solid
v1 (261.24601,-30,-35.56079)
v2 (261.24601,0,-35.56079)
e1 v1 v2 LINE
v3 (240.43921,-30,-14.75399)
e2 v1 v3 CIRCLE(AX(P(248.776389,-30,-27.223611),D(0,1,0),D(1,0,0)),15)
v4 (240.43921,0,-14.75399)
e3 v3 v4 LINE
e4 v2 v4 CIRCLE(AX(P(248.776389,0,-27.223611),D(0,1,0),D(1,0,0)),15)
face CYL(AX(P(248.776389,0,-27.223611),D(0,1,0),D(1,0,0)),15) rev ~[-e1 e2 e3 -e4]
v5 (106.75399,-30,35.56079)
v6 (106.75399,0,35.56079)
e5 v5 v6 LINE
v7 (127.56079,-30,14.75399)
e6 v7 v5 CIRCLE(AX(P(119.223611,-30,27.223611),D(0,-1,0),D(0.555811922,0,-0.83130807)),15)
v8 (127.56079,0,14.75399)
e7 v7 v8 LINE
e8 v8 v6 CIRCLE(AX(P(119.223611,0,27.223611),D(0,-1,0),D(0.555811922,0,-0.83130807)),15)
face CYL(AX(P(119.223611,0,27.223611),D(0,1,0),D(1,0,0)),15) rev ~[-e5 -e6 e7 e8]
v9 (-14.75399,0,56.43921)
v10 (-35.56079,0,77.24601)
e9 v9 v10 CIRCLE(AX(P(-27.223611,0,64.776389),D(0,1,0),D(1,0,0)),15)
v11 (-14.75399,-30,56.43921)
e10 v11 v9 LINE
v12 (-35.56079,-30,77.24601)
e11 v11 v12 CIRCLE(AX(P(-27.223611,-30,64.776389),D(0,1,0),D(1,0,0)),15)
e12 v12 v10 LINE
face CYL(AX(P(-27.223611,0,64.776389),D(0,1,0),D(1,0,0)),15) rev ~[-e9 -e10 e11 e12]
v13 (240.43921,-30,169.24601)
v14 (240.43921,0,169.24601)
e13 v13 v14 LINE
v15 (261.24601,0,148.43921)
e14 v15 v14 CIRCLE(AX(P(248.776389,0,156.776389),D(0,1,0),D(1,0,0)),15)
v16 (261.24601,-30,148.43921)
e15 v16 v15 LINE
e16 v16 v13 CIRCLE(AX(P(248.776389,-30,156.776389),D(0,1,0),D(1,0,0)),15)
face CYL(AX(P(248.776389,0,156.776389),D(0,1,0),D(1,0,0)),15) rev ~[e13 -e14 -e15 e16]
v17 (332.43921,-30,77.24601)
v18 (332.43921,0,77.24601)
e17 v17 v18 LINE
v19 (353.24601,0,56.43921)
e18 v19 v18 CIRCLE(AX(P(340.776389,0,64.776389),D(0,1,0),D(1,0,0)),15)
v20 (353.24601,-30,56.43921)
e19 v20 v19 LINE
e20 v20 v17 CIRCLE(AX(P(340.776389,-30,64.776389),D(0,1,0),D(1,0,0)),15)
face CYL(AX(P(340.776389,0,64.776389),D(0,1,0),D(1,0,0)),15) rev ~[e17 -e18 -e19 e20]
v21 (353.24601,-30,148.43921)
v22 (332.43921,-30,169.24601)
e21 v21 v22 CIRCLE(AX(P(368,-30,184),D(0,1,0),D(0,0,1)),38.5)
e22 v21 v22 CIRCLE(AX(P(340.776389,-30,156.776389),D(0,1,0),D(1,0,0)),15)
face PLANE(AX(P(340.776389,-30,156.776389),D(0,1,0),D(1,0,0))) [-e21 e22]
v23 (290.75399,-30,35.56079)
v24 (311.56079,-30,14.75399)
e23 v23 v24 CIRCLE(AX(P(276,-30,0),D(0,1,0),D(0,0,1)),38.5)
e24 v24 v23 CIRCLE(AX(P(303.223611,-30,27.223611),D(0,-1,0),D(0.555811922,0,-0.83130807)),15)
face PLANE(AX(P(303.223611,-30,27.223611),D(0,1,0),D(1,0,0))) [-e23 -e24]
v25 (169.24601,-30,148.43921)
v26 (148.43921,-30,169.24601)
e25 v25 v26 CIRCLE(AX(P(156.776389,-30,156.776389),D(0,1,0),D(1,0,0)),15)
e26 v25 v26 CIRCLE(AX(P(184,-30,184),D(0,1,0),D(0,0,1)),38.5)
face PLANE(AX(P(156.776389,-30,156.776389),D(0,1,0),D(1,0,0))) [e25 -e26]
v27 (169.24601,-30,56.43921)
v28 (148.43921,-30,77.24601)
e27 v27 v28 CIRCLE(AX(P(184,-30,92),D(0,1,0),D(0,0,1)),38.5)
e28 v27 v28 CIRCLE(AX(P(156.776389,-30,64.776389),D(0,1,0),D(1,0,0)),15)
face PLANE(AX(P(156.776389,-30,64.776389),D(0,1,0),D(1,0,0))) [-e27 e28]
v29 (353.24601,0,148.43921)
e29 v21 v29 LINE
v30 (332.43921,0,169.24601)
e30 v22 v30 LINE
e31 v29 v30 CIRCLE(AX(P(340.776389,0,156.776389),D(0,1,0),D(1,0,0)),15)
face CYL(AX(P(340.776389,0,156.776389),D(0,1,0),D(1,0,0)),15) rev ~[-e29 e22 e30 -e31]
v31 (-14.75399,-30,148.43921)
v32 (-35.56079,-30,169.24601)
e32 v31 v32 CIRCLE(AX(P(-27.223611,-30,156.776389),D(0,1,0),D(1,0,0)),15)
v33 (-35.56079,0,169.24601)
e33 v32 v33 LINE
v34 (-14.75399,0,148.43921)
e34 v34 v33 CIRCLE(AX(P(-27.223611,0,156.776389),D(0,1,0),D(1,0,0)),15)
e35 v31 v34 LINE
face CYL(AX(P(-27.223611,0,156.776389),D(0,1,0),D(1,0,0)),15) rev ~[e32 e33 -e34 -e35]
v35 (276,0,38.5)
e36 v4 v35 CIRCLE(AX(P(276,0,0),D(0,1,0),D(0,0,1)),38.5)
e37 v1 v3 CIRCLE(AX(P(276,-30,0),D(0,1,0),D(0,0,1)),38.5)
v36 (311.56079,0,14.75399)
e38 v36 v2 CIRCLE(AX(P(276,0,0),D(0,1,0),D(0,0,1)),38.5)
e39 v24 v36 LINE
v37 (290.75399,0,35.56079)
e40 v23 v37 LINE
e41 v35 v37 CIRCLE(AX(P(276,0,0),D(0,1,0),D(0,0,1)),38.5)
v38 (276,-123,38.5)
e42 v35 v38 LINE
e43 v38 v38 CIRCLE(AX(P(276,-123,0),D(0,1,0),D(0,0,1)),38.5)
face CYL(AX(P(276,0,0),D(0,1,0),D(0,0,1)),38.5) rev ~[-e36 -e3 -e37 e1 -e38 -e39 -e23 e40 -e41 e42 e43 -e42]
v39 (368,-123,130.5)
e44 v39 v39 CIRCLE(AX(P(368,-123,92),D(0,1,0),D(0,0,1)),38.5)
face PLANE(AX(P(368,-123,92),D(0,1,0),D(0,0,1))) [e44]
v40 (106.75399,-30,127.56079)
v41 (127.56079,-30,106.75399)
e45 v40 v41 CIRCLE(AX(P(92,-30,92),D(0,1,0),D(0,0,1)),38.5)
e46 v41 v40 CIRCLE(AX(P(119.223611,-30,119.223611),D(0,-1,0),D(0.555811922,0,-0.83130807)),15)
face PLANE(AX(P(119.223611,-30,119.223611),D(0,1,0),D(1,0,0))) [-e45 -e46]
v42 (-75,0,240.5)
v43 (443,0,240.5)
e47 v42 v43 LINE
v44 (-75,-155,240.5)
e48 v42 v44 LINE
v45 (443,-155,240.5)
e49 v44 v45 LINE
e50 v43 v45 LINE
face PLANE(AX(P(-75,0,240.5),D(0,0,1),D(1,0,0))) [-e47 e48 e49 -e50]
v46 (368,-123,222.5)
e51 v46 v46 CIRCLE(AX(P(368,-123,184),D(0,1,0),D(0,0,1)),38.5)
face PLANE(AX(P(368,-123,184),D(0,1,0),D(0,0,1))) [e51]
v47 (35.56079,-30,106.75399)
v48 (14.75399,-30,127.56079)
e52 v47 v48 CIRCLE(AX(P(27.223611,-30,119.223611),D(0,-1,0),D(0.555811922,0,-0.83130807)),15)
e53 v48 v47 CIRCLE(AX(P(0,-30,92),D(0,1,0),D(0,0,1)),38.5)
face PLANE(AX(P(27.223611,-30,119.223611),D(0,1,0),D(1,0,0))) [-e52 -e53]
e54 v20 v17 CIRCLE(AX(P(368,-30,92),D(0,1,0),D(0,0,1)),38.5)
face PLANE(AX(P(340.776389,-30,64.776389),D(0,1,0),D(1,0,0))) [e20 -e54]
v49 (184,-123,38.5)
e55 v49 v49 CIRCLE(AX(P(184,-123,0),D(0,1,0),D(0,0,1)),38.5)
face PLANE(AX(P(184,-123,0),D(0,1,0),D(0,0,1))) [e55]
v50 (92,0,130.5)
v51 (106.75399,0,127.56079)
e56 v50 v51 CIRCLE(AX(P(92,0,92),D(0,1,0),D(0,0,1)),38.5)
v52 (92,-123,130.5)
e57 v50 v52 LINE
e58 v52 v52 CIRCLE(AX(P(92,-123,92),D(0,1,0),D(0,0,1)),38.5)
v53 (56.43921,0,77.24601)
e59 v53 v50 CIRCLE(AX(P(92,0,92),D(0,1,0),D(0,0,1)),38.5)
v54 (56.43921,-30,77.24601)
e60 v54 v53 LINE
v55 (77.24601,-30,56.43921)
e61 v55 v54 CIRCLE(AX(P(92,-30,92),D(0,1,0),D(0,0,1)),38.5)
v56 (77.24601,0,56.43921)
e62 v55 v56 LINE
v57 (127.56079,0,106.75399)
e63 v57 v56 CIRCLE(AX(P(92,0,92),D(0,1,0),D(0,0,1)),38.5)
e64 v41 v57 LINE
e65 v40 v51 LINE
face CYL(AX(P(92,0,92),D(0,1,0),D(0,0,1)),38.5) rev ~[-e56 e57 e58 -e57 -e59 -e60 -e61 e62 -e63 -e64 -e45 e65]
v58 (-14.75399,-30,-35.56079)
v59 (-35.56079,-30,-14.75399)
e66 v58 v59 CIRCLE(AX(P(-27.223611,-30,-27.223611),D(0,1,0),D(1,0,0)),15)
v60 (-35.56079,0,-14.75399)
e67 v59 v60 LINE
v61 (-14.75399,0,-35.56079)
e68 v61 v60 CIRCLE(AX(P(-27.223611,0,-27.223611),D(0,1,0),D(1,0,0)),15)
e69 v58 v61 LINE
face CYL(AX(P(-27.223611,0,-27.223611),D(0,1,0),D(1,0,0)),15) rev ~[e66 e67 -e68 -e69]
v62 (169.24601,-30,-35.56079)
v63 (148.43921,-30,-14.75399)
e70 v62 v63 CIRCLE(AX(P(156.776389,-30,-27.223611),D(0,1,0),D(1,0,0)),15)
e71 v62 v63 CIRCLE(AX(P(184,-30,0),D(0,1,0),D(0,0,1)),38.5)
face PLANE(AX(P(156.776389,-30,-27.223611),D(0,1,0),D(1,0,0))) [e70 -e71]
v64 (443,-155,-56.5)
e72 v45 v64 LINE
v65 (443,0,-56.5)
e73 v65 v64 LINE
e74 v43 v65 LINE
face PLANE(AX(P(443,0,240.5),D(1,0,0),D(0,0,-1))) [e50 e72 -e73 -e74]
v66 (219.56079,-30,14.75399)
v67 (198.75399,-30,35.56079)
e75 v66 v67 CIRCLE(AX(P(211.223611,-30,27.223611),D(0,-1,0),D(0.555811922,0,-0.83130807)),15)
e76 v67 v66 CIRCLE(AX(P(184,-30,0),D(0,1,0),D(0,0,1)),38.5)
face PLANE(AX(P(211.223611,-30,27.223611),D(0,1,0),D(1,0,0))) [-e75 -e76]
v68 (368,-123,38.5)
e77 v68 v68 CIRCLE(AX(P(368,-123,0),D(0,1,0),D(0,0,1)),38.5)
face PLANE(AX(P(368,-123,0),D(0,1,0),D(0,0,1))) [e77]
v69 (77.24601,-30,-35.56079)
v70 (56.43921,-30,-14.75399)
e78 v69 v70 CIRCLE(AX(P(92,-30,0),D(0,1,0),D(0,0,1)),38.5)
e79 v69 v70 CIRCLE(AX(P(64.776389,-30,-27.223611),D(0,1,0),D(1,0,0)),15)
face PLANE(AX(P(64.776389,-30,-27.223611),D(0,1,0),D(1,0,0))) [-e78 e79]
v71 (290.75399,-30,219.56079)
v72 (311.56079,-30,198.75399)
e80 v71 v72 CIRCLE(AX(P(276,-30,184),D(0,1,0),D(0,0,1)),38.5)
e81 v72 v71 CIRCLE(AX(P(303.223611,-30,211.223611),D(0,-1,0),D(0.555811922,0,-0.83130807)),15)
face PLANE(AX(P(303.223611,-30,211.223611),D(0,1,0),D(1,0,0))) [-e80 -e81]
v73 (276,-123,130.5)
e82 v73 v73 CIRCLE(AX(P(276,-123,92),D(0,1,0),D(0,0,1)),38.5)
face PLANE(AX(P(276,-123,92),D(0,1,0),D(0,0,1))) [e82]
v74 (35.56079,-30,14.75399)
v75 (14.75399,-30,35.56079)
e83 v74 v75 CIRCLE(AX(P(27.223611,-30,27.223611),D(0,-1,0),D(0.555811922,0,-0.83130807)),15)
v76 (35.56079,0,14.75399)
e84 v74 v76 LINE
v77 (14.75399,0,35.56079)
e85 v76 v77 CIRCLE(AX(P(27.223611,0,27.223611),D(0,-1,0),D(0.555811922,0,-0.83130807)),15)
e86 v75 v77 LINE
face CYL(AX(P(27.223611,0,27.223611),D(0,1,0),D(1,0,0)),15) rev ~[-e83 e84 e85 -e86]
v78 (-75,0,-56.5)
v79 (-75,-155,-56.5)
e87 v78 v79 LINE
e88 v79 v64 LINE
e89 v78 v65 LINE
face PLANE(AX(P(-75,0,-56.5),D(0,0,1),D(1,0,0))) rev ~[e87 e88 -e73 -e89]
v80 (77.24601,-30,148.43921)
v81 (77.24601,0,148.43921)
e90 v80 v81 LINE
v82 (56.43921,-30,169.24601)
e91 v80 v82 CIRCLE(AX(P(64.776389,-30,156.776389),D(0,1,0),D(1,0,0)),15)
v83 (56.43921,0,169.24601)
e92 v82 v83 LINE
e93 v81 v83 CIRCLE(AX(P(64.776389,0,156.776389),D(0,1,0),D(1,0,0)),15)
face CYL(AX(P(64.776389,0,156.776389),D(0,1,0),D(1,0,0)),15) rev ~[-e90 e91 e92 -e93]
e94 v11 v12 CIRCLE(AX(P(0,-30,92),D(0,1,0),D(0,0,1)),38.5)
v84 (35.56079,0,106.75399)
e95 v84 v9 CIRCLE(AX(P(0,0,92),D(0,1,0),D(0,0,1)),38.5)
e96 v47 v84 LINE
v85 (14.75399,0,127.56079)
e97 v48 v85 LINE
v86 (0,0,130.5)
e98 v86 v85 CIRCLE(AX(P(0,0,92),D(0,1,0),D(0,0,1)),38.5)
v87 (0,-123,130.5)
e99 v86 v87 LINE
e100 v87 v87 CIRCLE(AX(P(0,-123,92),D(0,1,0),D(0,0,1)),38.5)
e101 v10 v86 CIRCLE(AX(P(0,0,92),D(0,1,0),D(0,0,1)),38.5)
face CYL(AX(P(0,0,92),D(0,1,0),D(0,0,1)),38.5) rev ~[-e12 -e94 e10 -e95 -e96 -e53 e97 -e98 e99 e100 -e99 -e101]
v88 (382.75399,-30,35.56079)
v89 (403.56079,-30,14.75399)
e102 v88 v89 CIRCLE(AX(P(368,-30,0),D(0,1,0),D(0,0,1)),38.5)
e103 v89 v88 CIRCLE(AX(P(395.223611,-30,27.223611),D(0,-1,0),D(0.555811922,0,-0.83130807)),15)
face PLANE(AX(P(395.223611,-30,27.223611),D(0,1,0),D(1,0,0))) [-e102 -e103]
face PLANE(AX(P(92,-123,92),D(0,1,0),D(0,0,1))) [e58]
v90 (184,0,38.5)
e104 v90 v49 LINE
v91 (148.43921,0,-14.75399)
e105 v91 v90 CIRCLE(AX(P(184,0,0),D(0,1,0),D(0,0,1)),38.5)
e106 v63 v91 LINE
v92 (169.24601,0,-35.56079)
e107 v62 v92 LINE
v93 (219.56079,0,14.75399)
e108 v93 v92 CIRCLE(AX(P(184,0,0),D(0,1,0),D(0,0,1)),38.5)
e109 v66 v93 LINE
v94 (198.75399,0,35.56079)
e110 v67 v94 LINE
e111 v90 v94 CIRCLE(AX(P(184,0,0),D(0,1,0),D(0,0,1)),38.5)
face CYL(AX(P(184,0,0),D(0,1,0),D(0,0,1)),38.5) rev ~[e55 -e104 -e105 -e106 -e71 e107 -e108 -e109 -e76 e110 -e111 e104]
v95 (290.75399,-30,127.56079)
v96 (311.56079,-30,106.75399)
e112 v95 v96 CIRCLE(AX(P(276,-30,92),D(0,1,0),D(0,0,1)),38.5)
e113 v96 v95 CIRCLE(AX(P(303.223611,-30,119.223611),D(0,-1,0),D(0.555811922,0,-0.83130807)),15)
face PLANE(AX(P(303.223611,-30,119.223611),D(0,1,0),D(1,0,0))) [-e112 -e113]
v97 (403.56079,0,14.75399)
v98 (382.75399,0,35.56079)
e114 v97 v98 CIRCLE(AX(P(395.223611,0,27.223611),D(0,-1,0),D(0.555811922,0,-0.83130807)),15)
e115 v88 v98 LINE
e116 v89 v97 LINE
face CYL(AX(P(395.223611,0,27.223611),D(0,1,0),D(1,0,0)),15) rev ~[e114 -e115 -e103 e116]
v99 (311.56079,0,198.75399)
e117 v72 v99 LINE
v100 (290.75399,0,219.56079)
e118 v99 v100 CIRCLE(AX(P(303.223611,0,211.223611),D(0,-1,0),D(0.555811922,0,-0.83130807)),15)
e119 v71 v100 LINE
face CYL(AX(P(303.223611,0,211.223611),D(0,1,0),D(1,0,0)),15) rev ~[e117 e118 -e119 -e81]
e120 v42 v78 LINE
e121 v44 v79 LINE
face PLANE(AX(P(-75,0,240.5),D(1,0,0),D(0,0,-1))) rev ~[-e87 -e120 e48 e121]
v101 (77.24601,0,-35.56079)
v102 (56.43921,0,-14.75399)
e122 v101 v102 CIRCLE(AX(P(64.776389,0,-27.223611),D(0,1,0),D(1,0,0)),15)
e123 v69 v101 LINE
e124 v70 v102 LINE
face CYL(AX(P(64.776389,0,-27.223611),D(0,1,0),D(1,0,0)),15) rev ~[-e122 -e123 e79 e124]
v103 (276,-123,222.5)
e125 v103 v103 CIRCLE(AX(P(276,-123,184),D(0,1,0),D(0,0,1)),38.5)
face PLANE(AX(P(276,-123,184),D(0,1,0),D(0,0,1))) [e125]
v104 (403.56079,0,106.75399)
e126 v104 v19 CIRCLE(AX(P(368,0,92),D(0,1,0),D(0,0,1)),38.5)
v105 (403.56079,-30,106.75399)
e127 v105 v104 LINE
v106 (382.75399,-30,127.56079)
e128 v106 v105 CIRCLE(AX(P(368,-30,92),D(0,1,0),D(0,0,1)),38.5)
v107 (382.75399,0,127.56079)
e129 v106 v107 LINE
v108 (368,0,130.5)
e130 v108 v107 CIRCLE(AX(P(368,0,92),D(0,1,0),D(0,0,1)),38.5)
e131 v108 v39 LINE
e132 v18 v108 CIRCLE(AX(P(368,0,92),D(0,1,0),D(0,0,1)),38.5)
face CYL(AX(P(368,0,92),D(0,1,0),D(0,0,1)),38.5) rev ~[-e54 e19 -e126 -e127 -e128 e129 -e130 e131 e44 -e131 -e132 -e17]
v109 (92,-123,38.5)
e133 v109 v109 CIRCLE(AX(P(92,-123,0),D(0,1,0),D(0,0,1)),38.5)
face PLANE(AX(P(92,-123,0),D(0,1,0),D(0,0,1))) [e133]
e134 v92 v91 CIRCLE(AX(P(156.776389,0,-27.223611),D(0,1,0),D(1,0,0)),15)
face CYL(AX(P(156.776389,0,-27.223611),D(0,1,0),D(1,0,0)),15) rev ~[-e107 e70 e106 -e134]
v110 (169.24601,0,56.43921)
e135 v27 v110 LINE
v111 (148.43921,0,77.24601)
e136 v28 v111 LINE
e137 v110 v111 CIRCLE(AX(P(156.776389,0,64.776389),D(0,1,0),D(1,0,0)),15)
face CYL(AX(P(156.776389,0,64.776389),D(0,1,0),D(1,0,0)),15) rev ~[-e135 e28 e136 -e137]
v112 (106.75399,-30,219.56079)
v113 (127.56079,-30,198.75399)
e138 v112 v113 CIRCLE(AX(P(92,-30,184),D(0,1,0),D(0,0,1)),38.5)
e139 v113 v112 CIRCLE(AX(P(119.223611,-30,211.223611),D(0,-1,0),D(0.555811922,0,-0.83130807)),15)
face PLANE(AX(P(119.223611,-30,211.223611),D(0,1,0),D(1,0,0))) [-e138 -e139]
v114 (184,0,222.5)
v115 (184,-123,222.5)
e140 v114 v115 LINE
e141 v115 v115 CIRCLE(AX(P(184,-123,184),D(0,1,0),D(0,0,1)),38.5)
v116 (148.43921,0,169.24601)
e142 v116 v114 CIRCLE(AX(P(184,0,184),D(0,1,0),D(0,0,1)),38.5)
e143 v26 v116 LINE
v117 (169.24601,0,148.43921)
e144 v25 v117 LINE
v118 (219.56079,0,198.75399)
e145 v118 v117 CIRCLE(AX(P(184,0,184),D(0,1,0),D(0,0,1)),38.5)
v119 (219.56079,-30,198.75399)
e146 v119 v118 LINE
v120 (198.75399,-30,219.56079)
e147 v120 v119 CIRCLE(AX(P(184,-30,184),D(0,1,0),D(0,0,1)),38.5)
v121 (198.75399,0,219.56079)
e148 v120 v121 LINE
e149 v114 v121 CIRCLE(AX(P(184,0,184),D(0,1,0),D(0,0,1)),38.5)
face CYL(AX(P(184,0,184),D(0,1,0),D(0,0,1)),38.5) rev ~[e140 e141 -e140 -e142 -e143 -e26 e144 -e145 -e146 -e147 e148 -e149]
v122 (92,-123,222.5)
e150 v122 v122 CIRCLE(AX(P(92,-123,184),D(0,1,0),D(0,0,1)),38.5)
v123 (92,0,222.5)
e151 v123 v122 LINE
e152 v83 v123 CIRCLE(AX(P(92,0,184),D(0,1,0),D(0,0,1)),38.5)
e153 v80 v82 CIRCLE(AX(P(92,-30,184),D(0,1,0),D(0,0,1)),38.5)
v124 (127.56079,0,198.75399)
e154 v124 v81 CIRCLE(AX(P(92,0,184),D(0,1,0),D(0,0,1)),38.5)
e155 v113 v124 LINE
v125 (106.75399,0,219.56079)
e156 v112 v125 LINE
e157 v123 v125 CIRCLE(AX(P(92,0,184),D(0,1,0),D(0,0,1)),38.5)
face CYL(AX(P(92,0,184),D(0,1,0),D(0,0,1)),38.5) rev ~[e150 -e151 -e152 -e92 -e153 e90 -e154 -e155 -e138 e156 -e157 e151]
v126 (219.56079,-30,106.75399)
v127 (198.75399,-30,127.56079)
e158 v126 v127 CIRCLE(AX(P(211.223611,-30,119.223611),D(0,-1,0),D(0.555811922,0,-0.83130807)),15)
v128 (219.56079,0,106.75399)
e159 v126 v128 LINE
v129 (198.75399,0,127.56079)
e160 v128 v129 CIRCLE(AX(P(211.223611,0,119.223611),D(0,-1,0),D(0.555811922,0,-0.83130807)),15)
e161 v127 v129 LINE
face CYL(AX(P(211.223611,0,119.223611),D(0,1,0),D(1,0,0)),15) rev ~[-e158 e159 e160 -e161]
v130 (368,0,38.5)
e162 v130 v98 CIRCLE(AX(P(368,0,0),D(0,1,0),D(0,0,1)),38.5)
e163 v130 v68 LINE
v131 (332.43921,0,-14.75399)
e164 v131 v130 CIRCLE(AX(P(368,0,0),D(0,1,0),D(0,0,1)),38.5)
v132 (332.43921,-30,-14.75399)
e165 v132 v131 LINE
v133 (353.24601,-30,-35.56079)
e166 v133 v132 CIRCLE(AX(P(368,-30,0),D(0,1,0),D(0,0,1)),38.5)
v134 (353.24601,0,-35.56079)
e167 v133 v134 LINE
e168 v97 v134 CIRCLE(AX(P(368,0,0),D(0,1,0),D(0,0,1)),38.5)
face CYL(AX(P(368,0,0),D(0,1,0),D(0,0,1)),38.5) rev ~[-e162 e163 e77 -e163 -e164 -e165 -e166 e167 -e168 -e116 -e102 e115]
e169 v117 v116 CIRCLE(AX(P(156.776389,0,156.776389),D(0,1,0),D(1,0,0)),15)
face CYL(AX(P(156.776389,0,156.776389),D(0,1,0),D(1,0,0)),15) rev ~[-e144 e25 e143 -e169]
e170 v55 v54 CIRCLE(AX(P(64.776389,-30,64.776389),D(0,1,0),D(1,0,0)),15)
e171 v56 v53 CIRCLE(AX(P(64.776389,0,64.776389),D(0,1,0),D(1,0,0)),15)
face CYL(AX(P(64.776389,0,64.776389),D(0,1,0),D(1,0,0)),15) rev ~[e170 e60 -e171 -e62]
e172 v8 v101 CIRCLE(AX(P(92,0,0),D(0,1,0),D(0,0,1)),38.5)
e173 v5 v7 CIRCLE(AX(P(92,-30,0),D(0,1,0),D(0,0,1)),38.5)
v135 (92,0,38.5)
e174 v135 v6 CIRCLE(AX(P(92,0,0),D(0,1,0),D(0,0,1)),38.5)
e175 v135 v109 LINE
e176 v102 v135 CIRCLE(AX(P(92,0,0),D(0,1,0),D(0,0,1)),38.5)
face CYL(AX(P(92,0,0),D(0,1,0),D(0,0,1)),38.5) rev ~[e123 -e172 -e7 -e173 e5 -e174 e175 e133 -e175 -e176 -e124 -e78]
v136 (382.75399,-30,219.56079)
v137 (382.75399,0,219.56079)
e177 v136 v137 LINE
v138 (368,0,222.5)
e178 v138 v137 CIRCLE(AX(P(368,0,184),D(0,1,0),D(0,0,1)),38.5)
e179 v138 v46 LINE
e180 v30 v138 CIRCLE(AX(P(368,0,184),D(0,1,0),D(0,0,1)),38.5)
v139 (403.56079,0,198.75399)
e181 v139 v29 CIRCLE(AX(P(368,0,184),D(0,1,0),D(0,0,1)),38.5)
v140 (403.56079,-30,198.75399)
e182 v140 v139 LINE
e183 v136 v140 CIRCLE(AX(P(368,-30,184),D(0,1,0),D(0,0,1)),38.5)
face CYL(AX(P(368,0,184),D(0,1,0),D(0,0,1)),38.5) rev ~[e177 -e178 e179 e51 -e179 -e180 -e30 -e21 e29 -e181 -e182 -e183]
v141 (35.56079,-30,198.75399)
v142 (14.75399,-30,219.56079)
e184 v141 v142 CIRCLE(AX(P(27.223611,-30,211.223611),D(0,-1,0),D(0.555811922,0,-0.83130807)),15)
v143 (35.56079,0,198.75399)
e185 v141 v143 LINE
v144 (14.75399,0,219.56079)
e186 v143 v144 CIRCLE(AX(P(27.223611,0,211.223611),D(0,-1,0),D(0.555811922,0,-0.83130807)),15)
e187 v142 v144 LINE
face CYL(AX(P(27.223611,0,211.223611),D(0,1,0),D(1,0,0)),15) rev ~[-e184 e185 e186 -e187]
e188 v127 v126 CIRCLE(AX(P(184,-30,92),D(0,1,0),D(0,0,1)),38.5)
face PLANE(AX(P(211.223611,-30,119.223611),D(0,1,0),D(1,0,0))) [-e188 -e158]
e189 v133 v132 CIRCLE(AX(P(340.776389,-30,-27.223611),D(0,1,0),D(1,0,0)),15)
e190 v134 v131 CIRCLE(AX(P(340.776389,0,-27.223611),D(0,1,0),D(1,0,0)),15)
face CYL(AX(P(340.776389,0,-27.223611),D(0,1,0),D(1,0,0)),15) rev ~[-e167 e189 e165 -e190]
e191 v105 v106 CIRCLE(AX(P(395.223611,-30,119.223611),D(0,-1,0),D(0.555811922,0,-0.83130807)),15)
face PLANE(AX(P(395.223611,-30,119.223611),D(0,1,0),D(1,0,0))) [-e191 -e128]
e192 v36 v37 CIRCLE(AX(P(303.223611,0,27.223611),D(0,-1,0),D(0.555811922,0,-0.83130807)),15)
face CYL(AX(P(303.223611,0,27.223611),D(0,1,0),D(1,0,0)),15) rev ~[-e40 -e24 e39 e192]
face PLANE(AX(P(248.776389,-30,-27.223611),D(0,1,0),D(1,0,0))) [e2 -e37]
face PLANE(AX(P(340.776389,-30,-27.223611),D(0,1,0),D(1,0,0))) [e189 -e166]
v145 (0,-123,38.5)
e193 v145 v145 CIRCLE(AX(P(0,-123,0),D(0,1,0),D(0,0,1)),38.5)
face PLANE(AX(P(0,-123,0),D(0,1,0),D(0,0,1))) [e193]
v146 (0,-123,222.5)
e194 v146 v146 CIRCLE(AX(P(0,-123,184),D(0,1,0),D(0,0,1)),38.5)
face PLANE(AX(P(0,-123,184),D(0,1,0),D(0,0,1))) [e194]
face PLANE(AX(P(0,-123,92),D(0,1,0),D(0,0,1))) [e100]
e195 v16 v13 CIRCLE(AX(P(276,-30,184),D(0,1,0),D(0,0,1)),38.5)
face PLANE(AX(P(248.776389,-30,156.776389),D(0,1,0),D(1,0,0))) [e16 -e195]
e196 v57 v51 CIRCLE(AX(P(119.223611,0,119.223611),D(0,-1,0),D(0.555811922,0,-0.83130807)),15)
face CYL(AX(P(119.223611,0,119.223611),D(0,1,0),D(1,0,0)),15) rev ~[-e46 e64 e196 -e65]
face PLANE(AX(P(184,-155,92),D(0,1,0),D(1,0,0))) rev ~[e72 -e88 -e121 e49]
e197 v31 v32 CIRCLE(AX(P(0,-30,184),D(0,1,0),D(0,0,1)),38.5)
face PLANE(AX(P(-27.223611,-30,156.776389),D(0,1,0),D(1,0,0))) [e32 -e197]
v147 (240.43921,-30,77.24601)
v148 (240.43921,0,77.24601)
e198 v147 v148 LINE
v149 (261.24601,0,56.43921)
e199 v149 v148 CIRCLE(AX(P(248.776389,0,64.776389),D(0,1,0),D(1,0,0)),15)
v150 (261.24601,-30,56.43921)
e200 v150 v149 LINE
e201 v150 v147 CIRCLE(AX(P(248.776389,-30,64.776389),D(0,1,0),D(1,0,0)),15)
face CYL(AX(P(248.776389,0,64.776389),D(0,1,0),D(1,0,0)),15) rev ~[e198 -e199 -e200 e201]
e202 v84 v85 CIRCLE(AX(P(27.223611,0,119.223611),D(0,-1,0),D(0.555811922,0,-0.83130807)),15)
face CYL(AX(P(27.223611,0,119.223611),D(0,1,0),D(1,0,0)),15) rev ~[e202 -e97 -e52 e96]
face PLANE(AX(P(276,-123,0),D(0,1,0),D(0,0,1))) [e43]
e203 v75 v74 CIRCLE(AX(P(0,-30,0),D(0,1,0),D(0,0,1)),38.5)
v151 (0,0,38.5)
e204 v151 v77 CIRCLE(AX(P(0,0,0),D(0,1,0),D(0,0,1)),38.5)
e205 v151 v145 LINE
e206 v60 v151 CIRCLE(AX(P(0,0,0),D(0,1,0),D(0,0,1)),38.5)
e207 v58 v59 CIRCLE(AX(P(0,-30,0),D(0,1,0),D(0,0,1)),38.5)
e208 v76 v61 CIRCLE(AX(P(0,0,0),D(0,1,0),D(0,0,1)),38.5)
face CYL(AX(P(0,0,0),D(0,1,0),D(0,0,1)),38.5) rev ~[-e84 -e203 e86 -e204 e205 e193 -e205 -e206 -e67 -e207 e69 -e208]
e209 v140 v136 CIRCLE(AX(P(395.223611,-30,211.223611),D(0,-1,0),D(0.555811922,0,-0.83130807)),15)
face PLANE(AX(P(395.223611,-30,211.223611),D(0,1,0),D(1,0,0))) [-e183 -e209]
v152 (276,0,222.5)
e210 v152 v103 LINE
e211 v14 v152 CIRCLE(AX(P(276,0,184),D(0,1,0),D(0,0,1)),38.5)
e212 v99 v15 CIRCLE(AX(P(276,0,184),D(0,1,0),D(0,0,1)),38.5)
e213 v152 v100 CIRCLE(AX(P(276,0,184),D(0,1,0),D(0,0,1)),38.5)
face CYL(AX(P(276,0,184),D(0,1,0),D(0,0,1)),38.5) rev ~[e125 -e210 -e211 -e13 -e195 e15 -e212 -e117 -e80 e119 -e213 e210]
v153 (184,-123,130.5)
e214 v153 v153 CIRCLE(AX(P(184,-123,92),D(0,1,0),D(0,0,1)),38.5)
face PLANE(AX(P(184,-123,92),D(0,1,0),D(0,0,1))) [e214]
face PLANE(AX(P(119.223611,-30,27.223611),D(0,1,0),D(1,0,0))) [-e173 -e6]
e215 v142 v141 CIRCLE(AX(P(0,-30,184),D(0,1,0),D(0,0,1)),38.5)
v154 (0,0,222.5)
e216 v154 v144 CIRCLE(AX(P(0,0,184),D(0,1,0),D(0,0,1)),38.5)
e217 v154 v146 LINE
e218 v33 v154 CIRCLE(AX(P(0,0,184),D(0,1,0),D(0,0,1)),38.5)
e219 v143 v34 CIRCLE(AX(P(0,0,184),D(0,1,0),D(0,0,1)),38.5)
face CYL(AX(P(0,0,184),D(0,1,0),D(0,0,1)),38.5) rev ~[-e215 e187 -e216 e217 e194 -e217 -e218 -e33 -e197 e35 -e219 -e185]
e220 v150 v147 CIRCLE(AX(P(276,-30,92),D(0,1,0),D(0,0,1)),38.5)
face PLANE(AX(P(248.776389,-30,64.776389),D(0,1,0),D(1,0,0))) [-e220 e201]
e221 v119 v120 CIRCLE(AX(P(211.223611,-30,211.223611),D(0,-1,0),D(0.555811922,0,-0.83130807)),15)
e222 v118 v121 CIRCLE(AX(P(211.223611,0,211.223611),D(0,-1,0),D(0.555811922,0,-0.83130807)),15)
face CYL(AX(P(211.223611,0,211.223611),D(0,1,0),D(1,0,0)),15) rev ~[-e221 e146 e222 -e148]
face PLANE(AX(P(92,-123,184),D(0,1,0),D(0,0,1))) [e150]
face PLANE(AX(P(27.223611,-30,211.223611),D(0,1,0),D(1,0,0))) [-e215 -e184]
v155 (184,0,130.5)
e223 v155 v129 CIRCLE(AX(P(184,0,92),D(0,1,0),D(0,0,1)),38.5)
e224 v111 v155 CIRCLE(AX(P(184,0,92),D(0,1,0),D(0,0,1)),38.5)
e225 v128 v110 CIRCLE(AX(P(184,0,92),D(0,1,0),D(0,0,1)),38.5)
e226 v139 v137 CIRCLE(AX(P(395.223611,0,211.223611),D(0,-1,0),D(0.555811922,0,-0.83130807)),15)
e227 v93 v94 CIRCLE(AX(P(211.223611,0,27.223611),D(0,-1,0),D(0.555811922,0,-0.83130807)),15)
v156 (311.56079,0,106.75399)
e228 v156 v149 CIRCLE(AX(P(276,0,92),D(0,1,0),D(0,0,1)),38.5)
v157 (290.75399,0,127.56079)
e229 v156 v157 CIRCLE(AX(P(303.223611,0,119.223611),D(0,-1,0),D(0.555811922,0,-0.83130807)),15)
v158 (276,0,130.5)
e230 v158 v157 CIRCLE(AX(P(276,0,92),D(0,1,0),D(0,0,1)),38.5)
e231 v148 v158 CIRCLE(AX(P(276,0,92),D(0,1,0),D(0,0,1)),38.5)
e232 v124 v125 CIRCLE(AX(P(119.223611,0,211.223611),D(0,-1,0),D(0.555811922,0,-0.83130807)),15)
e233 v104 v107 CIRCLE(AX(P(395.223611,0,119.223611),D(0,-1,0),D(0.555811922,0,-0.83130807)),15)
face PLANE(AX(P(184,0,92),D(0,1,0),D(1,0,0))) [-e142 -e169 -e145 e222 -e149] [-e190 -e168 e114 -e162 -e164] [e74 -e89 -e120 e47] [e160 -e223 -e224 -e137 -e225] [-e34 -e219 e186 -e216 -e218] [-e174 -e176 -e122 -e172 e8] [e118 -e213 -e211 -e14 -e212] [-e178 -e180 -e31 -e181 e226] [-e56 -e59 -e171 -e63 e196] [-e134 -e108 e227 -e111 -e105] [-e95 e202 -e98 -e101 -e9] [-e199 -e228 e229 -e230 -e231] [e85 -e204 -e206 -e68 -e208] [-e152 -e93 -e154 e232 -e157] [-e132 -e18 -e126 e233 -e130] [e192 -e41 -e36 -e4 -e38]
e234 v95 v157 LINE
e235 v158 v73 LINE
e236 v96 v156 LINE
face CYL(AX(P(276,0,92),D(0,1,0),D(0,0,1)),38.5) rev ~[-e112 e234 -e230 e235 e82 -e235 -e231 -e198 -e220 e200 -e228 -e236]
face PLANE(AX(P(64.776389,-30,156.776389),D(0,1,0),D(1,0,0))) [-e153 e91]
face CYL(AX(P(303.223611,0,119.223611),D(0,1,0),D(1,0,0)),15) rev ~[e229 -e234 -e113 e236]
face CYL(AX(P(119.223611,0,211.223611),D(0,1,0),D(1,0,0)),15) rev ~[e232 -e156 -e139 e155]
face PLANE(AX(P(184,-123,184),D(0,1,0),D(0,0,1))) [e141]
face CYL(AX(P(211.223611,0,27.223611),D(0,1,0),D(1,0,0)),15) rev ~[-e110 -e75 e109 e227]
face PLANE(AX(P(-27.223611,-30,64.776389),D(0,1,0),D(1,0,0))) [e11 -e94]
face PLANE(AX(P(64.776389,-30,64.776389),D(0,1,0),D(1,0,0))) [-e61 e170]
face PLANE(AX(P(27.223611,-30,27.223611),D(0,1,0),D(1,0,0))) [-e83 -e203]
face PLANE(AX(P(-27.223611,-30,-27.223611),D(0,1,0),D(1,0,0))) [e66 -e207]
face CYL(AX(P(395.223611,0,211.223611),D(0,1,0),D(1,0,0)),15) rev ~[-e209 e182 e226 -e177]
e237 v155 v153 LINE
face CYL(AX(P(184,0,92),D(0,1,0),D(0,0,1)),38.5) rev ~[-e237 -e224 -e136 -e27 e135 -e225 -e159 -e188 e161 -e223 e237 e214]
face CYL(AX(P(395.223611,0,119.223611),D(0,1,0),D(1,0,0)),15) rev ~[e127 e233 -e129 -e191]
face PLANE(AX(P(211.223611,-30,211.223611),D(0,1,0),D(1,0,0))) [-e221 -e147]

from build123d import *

# Parameters (mm, degrees)
SKETCH_532_W           = 518
SKETCH_532_H           = 297
EXTRUDE_604_DEPTH      = 155
SKETCH_5_3_R           = 38.5
CUT_EXTRUDE_11_DEPTH   = 123
SKETCH_1_R             = 15
CUT_EXTRUDE_1423_DEPTH = 30


with BuildPart() as part:
    # Sketch 532 → Extrude 604 (new body)
    with BuildSketch(Plane(origin=(0, 0, 0), x_dir=(1, 0, 0), z_dir=(0, 1, 0))):
        with Locations((184, -92)):
            Rectangle(SKETCH_532_W, SKETCH_532_H)
    extrude(amount=-EXTRUDE_604_DEPTH)

    # Матрица 5*3 → Ложемент для КМЕ-11 (cut)
    with BuildSketch(Plane(origin=(0, 0, 0), x_dir=(1, 0, 0), z_dir=(0, 1, 0))):
        with Locations(Location((0, 0, 0), (0, 0, 270))):
            Circle(SKETCH_5_3_R)
        with Locations(Location((92, 0, 0), (0, 0, 270))):
            Circle(SKETCH_5_3_R)
        with Locations(Location((184, 0, 0), (0, 0, 270))):
            Circle(SKETCH_5_3_R)
        with Locations(Location((276, 0, 0), (0, 0, 270))):
            Circle(SKETCH_5_3_R)
        with Locations(Location((368, 0, 0), (0, 0, 270))):
            Circle(SKETCH_5_3_R)
        with Locations(Location((0, -92, 0), (0, 0, 270))):
            Circle(SKETCH_5_3_R)
        with Locations(Location((92, -92, 0), (0, 0, 270))):
            Circle(SKETCH_5_3_R)
        with Locations(Location((184, -92, 0), (0, 0, 270))):
            Circle(SKETCH_5_3_R)
        with Locations(Location((276, -92, 0), (0, 0, 270))):
            Circle(SKETCH_5_3_R)
        with Locations(Location((368, -92, 0), (0, 0, 270))):
            Circle(SKETCH_5_3_R)
        with Locations(Location((0, -184, 0), (0, 0, 270))):
            Circle(SKETCH_5_3_R)
        with Locations(Location((92, -184, 0), (0, 0, 270))):
            Circle(SKETCH_5_3_R)
        with Locations(Location((184, -184, 0), (0, 0, 270))):
            Circle(SKETCH_5_3_R)
        with Locations(Location((276, -184, 0), (0, 0, 270))):
            Circle(SKETCH_5_3_R)
        with Locations(Location((368, -184, 0), (0, 0, 270))):
            Circle(SKETCH_5_3_R)
    extrude(amount=-CUT_EXTRUDE_11_DEPTH, mode=Mode.SUBTRACT)

    # Эскиз1 → Cut-Extrude 1423 (cut)
    with BuildSketch(Plane(origin=(0, 0, 0), x_dir=(1, 0, 0), z_dir=(0, 1, 0))):
        with Locations((27.223611076, -27.223611076)):
            Circle(SKETCH_1_R)
        with Locations((-27.223611076, 27.223611076)):
            Circle(SKETCH_1_R)
        with Locations((119.223611076, -27.223611076)):
            Circle(SKETCH_1_R)
        with Locations((64.776388924, 27.223611076)):
            Circle(SKETCH_1_R)
        with Locations((211.223611076, -27.223611076)):
            Circle(SKETCH_1_R)
        with Locations((156.776388924, 27.223611076)):
            Circle(SKETCH_1_R)
        with Locations((303.223611076, -27.223611076)):
            Circle(SKETCH_1_R)
        with Locations((248.776388924, 27.223611076)):
            Circle(SKETCH_1_R)
        with Locations((395.223611076, -27.223611076)):
            Circle(SKETCH_1_R)
        with Locations((340.776388924, 27.223611076)):
            Circle(SKETCH_1_R)
        with Locations((119.223611076, -119.223611076)):
            Circle(SKETCH_1_R)
        with Locations((64.776388924, -64.776388924)):
            Circle(SKETCH_1_R)
        with Locations((211.223611076, -119.223611076)):
            Circle(SKETCH_1_R)
        with Locations((156.776388924, -64.776388924)):
            Circle(SKETCH_1_R)
        with Locations((303.223611076, -119.223611076)):
            Circle(SKETCH_1_R)
        with Locations((248.776388924, -64.776388924)):
            Circle(SKETCH_1_R)
        with Locations((395.223611076, -119.223611076)):
            Circle(SKETCH_1_R)
        with Locations((340.776388924, -64.776388924)):
            Circle(SKETCH_1_R)
        with Locations((119.223611076, -211.223611076)):
            Circle(SKETCH_1_R)
        with Locations((64.776388924, -156.776388924)):
            Circle(SKETCH_1_R)
        with Locations((211.223611076, -211.223611076)):
            Circle(SKETCH_1_R)
        with Locations((156.776388924, -156.776388924)):
            Circle(SKETCH_1_R)
        with Locations((303.223611076, -211.223611076)):
            Circle(SKETCH_1_R)
        with Locations((248.776388924, -156.776388924)):
            Circle(SKETCH_1_R)
        with Locations((395.223611076, -211.223611076)):
            Circle(SKETCH_1_R)
        with Locations((340.776388924, -156.776388924)):
            Circle(SKETCH_1_R)
        with Locations((27.223611076, -119.223611076)):
            Circle(SKETCH_1_R)
        with Locations((-27.223611076, -64.776388924)):
            Circle(SKETCH_1_R)
        with Locations((27.223611076, -211.223611076)):
            Circle(SKETCH_1_R)
        with Locations((-27.223611076, -156.776388924)):
            Circle(SKETCH_1_R)
    extrude(amount=-CUT_EXTRUDE_1423_DEPTH, mode=Mode.SUBTRACT)


solid = part.part
